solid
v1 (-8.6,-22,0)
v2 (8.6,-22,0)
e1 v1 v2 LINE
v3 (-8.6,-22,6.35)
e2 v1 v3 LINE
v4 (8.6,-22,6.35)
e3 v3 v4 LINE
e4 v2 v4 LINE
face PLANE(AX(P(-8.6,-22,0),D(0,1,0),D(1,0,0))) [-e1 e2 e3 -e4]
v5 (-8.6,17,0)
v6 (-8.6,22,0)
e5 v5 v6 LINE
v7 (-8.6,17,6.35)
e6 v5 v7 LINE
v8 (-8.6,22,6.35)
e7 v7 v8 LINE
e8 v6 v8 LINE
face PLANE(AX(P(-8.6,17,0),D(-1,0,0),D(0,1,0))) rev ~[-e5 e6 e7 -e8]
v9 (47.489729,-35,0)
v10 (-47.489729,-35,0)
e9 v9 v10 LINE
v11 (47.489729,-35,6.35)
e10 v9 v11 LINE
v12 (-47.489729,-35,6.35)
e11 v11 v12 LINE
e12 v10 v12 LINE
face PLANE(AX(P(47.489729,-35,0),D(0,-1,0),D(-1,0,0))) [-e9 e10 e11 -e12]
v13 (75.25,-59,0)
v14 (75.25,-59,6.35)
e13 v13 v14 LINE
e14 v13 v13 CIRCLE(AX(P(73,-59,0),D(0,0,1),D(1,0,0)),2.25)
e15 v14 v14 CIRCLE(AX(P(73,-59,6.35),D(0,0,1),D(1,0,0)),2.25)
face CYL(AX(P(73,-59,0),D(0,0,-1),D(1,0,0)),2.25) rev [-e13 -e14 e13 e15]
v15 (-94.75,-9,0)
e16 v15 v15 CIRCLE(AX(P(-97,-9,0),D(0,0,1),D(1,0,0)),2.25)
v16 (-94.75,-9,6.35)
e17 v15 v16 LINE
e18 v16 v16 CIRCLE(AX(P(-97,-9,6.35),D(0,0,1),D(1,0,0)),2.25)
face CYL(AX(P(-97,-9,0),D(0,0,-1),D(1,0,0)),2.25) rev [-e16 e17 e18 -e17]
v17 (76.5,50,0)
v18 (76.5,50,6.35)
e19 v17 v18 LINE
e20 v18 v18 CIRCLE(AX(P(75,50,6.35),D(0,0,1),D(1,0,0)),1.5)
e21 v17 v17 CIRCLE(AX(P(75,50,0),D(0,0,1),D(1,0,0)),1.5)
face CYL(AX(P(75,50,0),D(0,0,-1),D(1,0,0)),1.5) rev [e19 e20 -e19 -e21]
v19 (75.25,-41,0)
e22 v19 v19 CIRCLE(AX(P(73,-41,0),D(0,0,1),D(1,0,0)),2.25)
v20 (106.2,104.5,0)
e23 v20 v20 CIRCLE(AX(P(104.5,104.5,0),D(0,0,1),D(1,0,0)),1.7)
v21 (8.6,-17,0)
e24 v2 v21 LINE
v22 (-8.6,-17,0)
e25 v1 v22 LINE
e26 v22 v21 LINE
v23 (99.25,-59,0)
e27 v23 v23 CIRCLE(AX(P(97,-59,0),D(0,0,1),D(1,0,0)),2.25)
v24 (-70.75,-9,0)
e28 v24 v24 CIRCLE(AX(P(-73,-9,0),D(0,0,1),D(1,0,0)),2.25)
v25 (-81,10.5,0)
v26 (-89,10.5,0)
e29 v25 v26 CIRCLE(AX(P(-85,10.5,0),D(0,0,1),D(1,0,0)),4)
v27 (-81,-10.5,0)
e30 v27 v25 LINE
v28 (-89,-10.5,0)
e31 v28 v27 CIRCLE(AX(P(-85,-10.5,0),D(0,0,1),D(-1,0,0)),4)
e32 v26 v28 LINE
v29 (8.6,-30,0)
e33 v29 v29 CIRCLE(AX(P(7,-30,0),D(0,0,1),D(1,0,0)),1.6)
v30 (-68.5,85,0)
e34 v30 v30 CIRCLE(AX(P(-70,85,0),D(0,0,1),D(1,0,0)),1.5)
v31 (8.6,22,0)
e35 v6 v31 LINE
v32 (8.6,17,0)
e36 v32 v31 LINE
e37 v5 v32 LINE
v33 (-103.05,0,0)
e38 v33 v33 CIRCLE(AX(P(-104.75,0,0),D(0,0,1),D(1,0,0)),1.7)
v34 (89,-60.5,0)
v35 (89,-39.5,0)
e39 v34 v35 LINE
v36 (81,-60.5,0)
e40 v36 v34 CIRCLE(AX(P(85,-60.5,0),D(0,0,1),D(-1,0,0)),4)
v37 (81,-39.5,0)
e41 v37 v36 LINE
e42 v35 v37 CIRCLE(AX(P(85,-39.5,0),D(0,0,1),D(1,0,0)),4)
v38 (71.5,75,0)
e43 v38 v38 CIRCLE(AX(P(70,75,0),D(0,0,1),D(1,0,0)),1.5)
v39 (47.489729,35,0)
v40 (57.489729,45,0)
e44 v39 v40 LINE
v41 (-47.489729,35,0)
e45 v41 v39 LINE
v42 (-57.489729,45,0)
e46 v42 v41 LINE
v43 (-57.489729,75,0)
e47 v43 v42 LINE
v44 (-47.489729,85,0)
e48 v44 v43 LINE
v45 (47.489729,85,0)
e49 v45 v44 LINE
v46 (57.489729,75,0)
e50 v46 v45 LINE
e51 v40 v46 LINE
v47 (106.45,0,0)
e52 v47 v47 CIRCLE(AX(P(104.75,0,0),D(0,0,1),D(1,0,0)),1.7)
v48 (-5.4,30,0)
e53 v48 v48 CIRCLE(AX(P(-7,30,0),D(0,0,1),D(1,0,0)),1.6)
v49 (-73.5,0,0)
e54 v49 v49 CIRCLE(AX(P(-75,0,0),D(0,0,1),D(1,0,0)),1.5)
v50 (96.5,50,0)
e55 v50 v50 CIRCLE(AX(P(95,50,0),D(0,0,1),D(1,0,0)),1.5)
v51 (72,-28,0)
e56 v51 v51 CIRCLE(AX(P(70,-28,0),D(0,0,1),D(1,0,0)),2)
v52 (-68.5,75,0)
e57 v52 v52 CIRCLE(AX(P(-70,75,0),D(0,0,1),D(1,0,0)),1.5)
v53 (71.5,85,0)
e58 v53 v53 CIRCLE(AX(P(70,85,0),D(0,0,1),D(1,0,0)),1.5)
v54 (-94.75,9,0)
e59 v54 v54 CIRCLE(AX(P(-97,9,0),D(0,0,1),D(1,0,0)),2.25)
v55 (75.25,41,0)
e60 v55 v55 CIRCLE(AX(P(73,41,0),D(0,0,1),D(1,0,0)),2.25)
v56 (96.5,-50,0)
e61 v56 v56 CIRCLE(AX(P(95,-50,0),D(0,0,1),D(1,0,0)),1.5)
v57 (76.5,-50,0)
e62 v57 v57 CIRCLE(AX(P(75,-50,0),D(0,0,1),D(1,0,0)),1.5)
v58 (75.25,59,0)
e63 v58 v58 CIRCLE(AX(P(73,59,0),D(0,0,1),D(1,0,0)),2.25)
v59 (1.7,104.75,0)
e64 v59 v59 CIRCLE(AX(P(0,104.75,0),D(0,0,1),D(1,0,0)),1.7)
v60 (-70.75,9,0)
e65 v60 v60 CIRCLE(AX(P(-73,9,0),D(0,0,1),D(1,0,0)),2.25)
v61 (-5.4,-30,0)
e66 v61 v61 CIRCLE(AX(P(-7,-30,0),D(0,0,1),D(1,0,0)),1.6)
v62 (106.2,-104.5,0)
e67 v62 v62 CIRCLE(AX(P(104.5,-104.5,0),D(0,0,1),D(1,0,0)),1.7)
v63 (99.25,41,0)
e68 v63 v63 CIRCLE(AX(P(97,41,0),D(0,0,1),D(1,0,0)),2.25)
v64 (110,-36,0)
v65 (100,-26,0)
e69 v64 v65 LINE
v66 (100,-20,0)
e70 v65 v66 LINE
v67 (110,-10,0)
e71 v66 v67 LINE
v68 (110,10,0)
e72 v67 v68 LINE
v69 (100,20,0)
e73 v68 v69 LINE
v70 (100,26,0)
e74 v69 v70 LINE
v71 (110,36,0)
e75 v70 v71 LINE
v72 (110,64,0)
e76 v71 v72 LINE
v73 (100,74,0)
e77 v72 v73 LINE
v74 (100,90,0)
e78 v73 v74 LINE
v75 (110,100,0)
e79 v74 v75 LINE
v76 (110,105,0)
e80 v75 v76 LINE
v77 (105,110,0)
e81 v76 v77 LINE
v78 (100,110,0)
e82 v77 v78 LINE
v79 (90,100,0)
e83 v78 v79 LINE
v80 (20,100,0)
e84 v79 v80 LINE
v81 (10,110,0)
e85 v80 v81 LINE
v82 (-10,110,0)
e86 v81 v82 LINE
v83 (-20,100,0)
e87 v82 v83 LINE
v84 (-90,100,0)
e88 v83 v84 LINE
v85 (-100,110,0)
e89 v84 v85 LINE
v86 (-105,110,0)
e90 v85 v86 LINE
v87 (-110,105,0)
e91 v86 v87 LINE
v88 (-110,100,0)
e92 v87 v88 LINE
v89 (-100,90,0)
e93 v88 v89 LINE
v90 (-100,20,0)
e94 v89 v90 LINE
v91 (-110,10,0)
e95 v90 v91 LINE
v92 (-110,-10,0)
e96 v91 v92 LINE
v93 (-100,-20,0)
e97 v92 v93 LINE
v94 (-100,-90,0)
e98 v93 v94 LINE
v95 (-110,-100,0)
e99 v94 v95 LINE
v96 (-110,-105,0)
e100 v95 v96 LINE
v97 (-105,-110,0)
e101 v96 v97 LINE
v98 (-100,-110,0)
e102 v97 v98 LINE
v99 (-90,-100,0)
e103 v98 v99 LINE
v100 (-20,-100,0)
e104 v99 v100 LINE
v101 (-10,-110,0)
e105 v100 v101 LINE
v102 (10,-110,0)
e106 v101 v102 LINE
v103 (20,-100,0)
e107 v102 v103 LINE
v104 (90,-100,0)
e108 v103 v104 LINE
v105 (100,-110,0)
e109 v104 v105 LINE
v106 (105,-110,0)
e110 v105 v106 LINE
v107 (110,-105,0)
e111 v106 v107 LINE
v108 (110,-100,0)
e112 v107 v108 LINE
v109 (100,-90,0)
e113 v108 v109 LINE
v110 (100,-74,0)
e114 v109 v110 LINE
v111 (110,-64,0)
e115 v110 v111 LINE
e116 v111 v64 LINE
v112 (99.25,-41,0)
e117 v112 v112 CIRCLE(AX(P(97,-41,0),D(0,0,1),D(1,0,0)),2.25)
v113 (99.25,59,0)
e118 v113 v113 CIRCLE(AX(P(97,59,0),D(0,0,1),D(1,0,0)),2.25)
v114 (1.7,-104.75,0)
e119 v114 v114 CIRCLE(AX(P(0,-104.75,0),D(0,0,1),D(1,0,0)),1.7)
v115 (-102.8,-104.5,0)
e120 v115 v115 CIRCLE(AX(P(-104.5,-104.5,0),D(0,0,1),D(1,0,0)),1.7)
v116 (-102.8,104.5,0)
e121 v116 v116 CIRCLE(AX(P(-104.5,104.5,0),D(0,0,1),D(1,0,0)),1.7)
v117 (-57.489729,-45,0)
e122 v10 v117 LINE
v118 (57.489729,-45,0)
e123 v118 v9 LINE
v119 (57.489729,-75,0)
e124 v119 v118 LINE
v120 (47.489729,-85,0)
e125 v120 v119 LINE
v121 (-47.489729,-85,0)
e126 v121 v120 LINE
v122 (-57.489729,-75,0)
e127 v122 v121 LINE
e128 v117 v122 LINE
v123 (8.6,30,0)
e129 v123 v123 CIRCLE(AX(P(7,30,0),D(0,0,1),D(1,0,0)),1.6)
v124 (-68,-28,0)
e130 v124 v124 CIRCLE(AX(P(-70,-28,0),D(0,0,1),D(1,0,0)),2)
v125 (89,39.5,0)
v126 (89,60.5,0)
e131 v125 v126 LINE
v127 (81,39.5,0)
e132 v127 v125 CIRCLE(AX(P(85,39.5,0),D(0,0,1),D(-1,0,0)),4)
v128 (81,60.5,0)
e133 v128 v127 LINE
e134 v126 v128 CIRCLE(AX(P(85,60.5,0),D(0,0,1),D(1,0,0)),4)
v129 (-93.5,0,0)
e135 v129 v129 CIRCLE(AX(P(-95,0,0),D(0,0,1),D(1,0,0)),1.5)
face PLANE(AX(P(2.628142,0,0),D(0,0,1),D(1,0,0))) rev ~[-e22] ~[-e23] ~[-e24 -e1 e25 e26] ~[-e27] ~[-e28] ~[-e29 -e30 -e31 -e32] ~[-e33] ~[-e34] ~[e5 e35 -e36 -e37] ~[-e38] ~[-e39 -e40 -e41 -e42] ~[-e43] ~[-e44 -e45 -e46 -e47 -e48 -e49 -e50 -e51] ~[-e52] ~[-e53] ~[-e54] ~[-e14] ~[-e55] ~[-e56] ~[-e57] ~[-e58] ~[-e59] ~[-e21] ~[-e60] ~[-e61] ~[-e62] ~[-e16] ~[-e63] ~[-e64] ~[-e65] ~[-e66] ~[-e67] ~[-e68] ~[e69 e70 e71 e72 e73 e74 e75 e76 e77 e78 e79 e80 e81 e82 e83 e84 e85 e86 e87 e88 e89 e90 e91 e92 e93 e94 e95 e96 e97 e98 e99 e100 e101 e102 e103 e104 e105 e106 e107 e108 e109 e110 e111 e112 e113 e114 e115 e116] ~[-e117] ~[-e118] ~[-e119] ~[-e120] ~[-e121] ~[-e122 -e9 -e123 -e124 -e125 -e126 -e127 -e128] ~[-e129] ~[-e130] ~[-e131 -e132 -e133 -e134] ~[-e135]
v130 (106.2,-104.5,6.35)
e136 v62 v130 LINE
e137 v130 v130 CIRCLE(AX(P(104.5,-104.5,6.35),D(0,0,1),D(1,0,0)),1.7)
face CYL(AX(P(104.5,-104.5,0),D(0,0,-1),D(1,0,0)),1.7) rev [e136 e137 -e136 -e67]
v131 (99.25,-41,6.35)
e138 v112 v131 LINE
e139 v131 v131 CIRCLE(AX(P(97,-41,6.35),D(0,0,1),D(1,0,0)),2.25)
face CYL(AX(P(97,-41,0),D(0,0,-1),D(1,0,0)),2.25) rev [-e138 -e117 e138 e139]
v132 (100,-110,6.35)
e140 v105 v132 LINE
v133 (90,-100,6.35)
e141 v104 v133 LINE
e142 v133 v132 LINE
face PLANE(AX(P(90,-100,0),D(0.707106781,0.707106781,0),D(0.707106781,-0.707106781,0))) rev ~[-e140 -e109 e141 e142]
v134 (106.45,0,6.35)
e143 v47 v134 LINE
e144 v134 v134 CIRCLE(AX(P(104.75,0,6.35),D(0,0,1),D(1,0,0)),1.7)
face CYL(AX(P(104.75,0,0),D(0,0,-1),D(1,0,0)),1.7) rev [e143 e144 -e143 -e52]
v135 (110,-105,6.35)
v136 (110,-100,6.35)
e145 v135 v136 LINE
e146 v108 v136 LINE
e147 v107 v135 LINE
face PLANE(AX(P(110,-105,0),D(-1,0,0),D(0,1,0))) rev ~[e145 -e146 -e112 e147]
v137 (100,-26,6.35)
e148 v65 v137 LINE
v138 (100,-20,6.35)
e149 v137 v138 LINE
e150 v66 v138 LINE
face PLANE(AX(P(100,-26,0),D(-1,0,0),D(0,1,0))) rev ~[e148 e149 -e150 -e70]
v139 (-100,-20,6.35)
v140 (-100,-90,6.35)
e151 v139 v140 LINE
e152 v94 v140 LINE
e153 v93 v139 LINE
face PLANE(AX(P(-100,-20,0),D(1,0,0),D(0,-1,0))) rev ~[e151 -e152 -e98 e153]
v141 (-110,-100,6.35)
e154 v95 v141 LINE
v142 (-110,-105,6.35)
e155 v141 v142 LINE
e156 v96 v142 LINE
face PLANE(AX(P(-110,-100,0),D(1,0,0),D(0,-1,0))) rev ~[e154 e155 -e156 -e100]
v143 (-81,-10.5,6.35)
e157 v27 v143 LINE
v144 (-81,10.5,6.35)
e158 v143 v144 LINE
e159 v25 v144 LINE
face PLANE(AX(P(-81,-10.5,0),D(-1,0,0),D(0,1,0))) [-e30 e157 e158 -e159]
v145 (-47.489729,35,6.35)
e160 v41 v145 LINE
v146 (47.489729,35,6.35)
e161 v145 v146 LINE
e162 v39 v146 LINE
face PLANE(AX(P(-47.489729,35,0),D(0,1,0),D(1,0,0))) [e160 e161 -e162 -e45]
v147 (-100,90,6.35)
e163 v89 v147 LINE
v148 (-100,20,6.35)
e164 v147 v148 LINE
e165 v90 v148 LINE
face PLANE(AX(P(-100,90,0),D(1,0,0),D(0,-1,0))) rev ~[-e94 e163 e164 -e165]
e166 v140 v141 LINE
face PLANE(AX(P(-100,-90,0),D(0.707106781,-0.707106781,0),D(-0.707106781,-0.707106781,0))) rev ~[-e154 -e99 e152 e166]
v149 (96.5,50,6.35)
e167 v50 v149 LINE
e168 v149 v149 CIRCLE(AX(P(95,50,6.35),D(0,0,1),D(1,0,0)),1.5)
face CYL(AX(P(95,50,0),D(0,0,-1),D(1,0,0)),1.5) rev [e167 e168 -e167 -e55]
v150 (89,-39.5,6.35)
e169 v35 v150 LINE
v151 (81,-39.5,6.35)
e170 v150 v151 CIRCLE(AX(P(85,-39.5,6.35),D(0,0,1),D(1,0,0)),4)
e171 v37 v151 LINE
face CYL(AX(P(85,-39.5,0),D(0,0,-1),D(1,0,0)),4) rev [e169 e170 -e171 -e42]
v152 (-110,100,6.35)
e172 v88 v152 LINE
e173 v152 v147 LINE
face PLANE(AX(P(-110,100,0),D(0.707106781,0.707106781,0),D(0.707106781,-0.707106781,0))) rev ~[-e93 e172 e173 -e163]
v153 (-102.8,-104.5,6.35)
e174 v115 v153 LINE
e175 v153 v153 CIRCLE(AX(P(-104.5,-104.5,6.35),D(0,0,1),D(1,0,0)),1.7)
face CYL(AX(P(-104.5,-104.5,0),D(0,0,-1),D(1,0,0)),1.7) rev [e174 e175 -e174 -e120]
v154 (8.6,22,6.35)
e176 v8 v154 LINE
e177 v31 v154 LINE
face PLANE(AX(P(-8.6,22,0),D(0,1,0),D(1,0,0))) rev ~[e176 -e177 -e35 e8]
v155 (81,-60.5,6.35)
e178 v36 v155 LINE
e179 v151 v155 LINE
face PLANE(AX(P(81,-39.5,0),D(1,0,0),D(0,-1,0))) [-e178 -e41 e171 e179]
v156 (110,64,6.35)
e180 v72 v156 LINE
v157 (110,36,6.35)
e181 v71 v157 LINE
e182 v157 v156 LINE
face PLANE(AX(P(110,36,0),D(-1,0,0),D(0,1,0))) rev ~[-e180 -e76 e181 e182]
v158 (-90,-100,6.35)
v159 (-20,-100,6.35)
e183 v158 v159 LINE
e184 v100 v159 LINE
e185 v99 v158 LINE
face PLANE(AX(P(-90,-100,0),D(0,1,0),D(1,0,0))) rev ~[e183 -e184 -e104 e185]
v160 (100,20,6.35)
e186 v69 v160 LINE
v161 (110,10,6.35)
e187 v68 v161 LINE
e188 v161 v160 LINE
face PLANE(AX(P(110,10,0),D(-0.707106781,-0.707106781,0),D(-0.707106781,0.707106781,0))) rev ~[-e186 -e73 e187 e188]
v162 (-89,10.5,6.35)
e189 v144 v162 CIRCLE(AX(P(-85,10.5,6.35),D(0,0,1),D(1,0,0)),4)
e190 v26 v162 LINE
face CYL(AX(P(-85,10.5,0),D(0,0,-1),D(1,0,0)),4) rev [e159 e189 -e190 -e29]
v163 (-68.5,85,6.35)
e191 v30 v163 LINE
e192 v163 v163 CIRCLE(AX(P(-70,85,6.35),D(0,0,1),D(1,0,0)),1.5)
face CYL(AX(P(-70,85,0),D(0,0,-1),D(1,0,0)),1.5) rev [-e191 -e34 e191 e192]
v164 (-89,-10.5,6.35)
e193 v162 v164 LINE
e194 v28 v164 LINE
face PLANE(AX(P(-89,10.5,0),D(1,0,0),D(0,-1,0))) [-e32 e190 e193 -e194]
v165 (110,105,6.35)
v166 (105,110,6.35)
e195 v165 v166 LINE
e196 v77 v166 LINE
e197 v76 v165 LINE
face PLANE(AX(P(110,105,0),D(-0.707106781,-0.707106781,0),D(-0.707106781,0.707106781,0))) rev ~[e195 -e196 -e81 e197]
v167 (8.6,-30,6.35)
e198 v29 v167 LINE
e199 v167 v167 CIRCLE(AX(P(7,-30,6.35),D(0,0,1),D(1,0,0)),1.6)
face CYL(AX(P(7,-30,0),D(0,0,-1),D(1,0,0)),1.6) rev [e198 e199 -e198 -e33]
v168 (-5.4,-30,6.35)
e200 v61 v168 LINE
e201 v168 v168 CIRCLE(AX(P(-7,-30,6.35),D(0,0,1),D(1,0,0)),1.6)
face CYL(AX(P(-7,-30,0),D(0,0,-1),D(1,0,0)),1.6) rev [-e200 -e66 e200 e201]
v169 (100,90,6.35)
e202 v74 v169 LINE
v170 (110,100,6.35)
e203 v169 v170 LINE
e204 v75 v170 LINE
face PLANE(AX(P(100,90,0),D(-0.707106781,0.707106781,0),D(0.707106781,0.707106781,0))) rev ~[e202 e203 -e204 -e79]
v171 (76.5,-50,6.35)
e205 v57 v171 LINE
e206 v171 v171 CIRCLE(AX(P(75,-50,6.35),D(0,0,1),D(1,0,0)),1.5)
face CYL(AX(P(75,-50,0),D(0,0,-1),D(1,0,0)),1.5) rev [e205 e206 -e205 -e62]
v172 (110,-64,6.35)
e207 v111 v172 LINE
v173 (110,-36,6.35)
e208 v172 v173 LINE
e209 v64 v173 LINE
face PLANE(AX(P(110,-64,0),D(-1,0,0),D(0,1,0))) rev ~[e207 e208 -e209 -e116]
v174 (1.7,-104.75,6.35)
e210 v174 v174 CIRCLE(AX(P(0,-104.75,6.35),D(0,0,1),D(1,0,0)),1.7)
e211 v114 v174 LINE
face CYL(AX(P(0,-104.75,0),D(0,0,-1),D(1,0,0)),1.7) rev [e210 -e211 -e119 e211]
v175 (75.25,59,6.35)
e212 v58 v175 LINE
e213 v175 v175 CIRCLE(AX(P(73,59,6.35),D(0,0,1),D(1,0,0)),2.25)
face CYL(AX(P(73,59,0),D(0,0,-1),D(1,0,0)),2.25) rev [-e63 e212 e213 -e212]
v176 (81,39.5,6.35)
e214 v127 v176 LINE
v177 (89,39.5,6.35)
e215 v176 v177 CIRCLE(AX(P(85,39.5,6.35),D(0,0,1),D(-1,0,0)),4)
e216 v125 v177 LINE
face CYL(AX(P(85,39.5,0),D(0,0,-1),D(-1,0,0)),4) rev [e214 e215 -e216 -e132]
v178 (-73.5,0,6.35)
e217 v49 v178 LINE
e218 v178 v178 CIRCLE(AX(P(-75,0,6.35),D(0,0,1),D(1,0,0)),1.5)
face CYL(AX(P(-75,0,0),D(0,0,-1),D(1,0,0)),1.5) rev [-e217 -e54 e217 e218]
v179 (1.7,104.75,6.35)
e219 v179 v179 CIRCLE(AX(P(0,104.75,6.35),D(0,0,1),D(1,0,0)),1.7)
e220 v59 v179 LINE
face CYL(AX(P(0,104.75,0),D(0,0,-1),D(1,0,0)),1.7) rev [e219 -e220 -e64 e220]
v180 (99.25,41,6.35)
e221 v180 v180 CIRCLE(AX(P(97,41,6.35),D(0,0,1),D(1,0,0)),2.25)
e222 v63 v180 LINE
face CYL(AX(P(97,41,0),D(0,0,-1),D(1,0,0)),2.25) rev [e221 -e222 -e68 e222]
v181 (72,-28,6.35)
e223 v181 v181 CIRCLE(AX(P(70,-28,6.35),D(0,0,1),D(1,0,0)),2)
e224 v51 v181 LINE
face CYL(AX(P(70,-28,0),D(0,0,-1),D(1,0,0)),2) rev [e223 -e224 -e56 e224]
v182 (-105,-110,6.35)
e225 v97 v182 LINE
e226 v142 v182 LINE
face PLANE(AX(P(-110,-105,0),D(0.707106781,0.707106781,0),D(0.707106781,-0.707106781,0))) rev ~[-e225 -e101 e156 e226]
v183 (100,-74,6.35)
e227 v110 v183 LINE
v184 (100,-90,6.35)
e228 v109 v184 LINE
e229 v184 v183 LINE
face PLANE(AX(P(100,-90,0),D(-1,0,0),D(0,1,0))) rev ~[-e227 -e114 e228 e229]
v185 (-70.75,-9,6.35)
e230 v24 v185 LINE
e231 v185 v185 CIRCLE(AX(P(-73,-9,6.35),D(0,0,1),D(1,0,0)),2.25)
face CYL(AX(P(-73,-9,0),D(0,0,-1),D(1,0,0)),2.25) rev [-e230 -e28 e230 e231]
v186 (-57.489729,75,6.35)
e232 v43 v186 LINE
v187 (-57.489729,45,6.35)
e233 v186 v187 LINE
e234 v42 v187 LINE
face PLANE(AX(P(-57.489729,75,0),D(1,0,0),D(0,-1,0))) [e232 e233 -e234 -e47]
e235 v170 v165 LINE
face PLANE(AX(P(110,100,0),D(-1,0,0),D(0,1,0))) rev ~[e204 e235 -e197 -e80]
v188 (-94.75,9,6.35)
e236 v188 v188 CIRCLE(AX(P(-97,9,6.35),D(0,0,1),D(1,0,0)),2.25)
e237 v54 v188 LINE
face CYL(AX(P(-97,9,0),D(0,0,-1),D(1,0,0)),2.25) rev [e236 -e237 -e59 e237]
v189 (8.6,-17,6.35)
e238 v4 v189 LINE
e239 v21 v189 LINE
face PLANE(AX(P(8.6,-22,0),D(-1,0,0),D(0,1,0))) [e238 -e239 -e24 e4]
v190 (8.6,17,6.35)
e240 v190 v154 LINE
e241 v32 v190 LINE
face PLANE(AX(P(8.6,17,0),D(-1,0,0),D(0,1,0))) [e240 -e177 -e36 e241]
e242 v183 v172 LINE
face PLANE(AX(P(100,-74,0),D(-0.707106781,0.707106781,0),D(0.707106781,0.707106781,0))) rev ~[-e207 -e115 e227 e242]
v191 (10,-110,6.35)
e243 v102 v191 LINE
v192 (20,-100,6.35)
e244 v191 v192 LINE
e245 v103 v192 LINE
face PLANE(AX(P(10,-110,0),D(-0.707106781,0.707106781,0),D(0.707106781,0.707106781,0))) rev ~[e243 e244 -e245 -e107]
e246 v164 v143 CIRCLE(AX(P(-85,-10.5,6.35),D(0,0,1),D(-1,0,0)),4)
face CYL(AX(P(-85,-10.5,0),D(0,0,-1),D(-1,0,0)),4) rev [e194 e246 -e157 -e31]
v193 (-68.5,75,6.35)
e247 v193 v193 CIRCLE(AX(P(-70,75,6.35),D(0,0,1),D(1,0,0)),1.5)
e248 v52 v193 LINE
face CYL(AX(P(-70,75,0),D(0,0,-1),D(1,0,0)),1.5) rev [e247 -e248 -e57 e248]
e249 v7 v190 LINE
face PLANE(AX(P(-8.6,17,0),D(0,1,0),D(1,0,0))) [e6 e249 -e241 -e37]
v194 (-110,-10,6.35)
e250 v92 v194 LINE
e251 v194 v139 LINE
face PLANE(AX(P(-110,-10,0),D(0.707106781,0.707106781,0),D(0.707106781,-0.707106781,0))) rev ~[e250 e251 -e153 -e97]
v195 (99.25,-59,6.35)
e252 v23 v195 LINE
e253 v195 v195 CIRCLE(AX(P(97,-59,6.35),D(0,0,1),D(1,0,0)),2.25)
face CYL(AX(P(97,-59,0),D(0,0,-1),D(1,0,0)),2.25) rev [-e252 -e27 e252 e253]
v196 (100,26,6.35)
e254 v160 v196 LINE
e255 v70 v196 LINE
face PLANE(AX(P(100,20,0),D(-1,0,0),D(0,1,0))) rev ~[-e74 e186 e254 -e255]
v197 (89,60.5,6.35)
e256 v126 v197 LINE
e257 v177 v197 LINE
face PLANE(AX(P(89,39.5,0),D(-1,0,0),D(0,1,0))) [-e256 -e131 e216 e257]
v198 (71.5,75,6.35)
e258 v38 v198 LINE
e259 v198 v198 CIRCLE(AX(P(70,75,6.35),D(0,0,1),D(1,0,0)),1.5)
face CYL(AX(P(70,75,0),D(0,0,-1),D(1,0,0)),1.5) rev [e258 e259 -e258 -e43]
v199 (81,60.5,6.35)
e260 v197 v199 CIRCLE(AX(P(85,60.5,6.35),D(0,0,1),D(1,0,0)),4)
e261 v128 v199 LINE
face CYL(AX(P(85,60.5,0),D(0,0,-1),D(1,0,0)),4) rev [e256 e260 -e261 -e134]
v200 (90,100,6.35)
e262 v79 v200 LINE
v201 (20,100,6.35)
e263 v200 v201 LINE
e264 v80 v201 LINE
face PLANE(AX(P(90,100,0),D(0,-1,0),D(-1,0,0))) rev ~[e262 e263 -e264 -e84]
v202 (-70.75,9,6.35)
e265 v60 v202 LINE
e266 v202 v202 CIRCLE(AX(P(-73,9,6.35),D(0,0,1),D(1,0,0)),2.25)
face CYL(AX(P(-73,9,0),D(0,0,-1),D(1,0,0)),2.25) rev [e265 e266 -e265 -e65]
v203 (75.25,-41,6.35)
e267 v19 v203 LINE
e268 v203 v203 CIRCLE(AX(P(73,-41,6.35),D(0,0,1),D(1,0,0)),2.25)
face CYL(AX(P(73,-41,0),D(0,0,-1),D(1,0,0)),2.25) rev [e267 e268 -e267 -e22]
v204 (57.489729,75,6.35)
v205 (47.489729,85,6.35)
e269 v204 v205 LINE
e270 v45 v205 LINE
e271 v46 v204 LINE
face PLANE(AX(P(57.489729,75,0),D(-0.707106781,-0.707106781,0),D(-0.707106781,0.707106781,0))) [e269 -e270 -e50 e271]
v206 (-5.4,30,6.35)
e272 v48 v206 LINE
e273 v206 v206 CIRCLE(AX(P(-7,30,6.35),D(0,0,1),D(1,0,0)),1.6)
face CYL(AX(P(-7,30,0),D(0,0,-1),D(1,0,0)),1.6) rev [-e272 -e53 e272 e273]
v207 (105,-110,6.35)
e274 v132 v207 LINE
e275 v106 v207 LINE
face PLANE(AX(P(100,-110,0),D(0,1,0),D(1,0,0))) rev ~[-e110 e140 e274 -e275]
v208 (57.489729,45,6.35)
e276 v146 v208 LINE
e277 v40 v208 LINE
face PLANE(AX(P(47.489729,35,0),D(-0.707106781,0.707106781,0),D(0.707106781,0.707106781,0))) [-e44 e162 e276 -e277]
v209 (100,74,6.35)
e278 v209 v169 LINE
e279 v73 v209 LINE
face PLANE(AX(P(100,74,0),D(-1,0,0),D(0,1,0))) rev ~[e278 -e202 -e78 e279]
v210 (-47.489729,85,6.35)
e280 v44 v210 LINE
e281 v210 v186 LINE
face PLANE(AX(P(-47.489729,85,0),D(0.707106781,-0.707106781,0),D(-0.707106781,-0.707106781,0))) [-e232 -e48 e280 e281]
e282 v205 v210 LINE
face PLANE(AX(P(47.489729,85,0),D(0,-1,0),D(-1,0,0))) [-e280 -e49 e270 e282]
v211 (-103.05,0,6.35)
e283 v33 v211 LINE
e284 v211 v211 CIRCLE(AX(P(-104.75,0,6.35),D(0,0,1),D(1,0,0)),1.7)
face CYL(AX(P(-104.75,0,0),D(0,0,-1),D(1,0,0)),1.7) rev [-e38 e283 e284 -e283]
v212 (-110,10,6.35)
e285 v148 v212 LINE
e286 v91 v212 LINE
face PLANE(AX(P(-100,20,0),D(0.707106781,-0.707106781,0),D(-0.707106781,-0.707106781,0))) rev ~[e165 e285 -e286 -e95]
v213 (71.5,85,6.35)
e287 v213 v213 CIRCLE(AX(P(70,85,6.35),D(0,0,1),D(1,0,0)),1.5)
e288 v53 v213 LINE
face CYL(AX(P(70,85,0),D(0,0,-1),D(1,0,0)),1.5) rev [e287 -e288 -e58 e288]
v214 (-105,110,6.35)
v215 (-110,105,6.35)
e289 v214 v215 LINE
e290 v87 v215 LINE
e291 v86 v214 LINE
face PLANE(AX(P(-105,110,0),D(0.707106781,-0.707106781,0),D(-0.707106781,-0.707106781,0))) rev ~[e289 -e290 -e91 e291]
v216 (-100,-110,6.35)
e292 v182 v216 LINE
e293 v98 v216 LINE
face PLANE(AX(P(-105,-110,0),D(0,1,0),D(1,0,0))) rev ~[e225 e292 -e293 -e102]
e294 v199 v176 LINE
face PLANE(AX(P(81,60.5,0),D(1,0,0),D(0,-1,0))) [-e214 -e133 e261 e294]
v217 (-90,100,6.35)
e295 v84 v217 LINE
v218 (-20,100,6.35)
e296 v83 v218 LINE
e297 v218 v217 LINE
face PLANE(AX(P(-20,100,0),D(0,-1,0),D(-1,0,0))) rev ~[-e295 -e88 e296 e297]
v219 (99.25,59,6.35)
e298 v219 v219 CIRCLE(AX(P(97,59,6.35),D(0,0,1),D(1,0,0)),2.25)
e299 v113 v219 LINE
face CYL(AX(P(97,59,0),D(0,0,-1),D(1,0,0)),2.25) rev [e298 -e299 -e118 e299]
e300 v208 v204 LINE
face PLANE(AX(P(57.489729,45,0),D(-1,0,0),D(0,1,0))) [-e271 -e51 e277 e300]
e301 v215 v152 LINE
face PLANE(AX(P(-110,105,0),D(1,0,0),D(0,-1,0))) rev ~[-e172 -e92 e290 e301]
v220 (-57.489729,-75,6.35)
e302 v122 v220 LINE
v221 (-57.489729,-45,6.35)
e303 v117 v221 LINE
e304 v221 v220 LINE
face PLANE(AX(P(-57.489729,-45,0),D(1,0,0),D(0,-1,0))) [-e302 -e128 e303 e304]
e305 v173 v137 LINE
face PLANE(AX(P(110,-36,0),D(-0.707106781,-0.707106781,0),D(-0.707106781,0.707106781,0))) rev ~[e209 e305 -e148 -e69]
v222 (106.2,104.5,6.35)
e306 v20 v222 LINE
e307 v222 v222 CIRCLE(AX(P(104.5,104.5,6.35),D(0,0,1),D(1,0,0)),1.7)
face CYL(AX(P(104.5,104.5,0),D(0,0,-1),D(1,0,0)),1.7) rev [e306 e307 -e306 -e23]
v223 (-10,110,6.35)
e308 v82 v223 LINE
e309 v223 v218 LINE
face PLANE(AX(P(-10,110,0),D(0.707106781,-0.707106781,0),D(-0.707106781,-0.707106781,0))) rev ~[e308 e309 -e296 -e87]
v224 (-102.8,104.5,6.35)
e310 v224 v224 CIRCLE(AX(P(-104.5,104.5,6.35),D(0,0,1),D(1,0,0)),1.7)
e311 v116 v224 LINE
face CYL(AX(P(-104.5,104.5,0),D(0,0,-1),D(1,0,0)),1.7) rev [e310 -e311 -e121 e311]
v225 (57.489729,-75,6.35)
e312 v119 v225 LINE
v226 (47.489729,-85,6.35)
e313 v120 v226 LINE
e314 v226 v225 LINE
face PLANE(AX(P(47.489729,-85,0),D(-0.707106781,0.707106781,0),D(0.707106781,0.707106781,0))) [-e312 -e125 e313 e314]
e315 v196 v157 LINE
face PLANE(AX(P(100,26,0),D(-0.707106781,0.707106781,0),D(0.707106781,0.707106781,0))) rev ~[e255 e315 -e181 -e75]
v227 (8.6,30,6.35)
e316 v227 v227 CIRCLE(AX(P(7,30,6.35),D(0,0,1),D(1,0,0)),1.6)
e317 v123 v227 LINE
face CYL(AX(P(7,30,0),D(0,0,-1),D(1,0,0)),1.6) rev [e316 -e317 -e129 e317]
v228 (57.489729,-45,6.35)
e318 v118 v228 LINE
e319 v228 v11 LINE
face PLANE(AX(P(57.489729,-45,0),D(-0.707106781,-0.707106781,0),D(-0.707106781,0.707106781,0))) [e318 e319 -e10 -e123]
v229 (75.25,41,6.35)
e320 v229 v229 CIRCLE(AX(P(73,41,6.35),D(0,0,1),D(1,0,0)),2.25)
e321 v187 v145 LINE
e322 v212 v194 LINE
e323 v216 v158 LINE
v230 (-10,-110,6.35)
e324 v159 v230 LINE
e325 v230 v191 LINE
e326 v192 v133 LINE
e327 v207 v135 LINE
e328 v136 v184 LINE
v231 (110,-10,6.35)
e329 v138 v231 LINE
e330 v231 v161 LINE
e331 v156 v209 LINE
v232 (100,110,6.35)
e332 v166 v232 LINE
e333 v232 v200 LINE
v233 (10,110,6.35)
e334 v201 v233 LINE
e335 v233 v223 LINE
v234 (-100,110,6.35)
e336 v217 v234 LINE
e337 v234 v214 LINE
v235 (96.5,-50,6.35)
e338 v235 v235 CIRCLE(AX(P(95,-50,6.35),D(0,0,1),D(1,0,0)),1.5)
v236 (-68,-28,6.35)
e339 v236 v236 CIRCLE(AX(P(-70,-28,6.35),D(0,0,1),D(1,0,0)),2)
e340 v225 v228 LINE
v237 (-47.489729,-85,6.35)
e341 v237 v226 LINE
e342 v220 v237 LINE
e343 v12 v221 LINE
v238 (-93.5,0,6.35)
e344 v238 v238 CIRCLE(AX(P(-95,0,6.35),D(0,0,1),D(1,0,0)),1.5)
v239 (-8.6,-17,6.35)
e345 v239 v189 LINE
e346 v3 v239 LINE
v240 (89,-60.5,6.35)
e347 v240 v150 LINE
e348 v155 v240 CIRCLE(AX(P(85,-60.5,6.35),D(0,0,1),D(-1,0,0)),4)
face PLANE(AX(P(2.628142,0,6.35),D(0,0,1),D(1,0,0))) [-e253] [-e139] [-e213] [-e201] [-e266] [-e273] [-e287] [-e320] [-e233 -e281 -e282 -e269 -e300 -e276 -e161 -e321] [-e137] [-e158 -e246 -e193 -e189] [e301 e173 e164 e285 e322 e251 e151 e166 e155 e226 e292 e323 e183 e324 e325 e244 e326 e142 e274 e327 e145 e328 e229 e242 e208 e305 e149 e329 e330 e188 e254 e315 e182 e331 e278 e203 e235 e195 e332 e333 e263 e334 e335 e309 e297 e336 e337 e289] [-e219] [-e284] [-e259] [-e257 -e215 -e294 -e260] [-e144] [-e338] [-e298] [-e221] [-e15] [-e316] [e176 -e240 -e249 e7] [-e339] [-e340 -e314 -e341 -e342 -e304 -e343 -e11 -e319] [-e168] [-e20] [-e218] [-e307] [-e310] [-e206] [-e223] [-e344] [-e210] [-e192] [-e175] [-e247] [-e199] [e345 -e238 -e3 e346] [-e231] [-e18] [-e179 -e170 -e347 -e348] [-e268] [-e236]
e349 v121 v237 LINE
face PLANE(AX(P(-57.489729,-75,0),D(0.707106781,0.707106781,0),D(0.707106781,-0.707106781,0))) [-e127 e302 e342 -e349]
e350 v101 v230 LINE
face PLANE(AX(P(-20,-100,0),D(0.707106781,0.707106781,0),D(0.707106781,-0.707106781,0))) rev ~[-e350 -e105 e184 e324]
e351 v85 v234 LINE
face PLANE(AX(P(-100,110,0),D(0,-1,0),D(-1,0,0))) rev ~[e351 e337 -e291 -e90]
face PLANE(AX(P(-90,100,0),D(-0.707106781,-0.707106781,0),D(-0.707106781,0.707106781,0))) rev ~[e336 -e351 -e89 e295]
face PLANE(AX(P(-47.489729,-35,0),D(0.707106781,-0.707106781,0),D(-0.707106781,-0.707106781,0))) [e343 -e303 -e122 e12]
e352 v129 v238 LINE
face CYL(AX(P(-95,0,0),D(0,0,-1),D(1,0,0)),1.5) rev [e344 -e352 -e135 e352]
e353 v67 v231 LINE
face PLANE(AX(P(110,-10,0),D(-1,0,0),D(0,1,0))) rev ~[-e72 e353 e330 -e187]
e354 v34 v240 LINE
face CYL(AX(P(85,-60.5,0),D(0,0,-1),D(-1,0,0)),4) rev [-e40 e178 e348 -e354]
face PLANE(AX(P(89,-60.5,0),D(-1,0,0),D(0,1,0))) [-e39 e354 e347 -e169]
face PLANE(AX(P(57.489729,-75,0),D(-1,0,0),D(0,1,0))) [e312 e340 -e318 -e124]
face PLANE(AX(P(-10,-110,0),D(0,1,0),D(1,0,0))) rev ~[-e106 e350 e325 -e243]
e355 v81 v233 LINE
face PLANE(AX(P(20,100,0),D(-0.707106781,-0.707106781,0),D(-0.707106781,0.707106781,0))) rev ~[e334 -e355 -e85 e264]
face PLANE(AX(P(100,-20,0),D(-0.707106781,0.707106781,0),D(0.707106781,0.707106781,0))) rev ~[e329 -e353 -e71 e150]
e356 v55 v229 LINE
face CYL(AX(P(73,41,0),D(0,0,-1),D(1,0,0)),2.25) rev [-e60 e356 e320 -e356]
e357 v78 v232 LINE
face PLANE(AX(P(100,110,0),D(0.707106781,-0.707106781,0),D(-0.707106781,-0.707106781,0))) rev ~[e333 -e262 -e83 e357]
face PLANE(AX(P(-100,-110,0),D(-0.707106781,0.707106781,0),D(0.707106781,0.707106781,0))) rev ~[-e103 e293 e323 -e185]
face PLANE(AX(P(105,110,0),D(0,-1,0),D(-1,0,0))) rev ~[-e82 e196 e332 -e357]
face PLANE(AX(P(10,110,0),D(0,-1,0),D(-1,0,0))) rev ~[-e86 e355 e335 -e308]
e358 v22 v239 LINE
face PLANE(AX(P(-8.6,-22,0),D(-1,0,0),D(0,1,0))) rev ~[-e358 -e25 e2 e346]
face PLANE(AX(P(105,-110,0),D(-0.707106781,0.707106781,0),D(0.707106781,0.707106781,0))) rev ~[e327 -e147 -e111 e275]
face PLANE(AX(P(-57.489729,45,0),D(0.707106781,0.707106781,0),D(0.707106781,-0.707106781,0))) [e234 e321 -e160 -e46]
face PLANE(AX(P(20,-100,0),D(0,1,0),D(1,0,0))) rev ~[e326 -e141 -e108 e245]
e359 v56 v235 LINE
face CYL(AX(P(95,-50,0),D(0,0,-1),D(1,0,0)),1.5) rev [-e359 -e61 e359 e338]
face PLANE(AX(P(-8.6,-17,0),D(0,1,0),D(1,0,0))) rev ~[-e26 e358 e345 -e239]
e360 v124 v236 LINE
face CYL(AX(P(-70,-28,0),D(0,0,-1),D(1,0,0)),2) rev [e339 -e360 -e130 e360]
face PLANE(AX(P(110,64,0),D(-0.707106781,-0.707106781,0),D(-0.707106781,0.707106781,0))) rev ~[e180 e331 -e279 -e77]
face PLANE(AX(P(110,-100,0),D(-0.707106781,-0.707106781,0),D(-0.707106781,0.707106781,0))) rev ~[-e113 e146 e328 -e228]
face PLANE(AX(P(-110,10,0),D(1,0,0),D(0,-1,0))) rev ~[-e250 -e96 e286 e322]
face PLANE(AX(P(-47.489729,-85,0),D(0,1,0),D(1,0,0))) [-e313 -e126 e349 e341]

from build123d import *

# Parameters (mm, degrees)
BOSS_EXTRUDE1_DEPTH = 6.35
CUT_EXTRUDE1_DEPTH  = 6.35
CUT_EXTRUDE2_DEPTH  = 6.35
MODEL_7_R           = 1.7
MODEL_7_R_2         = 1.5
MODEL_7_R_3         = 2.25
MODEL_7_R_4         = 1.6
MODEL_7_R_5         = 2
CUT_EXTRUDE3_DEPTH  = 6.35
MODEL_8_W           = 17.2
MODEL_8_H           = 5
CUT_EXTRUDE4_DEPTH  = 6.35


with BuildPart() as part:
    # Model → Boss-Extrude1 (new body)
    with BuildSketch(Plane.XY):
        Polygon((110, -105), (110, -100), (100, -90), (100, -74), (110, -64), (110, -36), (100, -26), (100, -20), (110, -10), (110, 10), (100, 20), (100, 26), (110, 36), (110, 64), (100, 74), (100, 90), (110, 100), (110, 105), (105, 110), (100, 110), (90, 100), (20, 100), (10, 110), (-10, 110), (-20, 100), (-90, 100), (-100, 110), (-105, 110), (-110, 105), (-110, 100), (-100, 90), (-100, 20), (-110, 10), (-110, -10), (-100, -20), (-100, -90), (-110, -100), (-110, -105), (-105, -110), (-100, -110), (-90, -100), (-20, -100), (-10, -110), (10, -110), (20, -100), (90, -100), (100, -110), (105, -110), align=None)
    extrude(amount=BOSS_EXTRUDE1_DEPTH)

    # Model<4> → Cut-Extrude1 (cut)
    with BuildSketch(Plane.XY):
        Polygon((-47.489728574, 85), (-57.489728574, 75), (-57.489728574, 45), (-47.489728574, 35), (47.489728574, 35), (57.489728574, 45), (57.489728574, 75), (47.489728574, 85), align=None)
    extrude(amount=CUT_EXTRUDE1_DEPTH, mode=Mode.SUBTRACT)

    # Model<5> → Cut-Extrude2 (cut)
    with BuildSketch(Plane.XY):
        Polygon((57.489728574, -45), (47.489728574, -35), (-47.489728574, -35), (-57.489728574, -45), (-57.489728574, -75), (-47.489728574, -85), (47.489728574, -85), (57.489728574, -75), align=None)
    extrude(amount=CUT_EXTRUDE2_DEPTH, mode=Mode.SUBTRACT)

    # Model<7> → Cut-Extrude3 (cut)
    with BuildSketch(Plane.XY):
        with Locations((0, -104.75)):
            Circle(MODEL_7_R)
        with Locations((104.75, 0)):
            Circle(MODEL_7_R)
        with Locations((104.5, 104.5)):
            Circle(MODEL_7_R)
        with Locations((104.5, -104.5)):
            Circle(MODEL_7_R)
        with Locations((-95, 0)):
            Circle(MODEL_7_R_2)
        with Locations((-75, 0)):
            Circle(MODEL_7_R_2)
        with Locations((-73, 9)):
            Circle(MODEL_7_R_3)
        with Locations((-73, -9)):
            Circle(MODEL_7_R_3)
        with Locations((-97, -9)):
            Circle(MODEL_7_R_3)
        with Locations((-97, 9)):
            Circle(MODEL_7_R_3)
        with Locations((75, 50)):
            Circle(MODEL_7_R_2)
        with Locations((95, 50)):
            Circle(MODEL_7_R_2)
        with Locations((75, -50)):
            Circle(MODEL_7_R_2)
        with Locations((95, -50)):
            Circle(MODEL_7_R_2)
        with Locations((97, 59)):
            Circle(MODEL_7_R_3)
        with Locations((97, 41)):
            Circle(MODEL_7_R_3)
        with Locations((73, 41)):
            Circle(MODEL_7_R_3)
        with Locations((73, 59)):
            Circle(MODEL_7_R_3)
        with Locations((97, -41)):
            Circle(MODEL_7_R_3)
        with Locations((97, -59)):
            Circle(MODEL_7_R_3)
        with Locations((73, -59)):
            Circle(MODEL_7_R_3)
        with Locations((73, -41)):
            Circle(MODEL_7_R_3)
        with Locations((-104.75, 0)):
            Circle(MODEL_7_R)
        with Locations((0, 104.75)):
            Circle(MODEL_7_R)
        with Locations((-104.5, 104.5)):
            Circle(MODEL_7_R)
        with Locations((-104.5, -104.5)):
            Circle(MODEL_7_R)
        with Locations((-7, 30)):
            Circle(MODEL_7_R_4)
        with Locations((7, 30)):
            Circle(MODEL_7_R_4)
        with Locations((-7, -30)):
            Circle(MODEL_7_R_4)
        with Locations((7, -30)):
            Circle(MODEL_7_R_4)
        with Locations((70, -28)):
            Circle(MODEL_7_R_5)
        with Locations((-70, -28)):
            Circle(MODEL_7_R_5)
        with Locations((-70, 85)):
            Circle(MODEL_7_R_2)
        with Locations((-70, 75)):
            Circle(MODEL_7_R_2)
        with Locations((70, 85)):
            Circle(MODEL_7_R_2)
        with Locations((70, 75)):
            Circle(MODEL_7_R_2)
    extrude(amount=CUT_EXTRUDE3_DEPTH, mode=Mode.SUBTRACT)

    # Model<8> → Cut-Extrude4 (cut)
    with BuildSketch(Plane.XY):
        with BuildLine():
            Line((-81, -10.5), (-81, 10.5))
            ThreePointArc((-81, 10.5), (-85, 14.5), (-89, 10.5))
            Line((-89, 10.5), (-89, -10.5))
            ThreePointArc((-89, -10.5), (-85, -14.5), (-81, -10.5))
        make_face()
        with BuildLine():
            Line((89, 39.5), (89, 60.5))
            ThreePointArc((89, 60.5), (85, 64.5), (81, 60.5))
            Line((81, 60.5), (81, 39.5))
            ThreePointArc((81, 39.5), (85, 35.5), (89, 39.5))
        make_face()
        with BuildLine():
            Line((89, -60.5), (89, -39.5))
            ThreePointArc((89, -39.5), (85, -35.5), (81, -39.5))
            Line((81, -39.5), (81, -60.5))
            ThreePointArc((81, -60.5), (85, -64.5), (89, -60.5))
        make_face()
        with Locations((0, 19.5)):
            Rectangle(MODEL_8_W, MODEL_8_H)
        with Locations((0, -19.5)):
            Rectangle(MODEL_8_W, MODEL_8_H)
    extrude(amount=CUT_EXTRUDE4_DEPTH, mode=Mode.SUBTRACT)


solid = part.part
